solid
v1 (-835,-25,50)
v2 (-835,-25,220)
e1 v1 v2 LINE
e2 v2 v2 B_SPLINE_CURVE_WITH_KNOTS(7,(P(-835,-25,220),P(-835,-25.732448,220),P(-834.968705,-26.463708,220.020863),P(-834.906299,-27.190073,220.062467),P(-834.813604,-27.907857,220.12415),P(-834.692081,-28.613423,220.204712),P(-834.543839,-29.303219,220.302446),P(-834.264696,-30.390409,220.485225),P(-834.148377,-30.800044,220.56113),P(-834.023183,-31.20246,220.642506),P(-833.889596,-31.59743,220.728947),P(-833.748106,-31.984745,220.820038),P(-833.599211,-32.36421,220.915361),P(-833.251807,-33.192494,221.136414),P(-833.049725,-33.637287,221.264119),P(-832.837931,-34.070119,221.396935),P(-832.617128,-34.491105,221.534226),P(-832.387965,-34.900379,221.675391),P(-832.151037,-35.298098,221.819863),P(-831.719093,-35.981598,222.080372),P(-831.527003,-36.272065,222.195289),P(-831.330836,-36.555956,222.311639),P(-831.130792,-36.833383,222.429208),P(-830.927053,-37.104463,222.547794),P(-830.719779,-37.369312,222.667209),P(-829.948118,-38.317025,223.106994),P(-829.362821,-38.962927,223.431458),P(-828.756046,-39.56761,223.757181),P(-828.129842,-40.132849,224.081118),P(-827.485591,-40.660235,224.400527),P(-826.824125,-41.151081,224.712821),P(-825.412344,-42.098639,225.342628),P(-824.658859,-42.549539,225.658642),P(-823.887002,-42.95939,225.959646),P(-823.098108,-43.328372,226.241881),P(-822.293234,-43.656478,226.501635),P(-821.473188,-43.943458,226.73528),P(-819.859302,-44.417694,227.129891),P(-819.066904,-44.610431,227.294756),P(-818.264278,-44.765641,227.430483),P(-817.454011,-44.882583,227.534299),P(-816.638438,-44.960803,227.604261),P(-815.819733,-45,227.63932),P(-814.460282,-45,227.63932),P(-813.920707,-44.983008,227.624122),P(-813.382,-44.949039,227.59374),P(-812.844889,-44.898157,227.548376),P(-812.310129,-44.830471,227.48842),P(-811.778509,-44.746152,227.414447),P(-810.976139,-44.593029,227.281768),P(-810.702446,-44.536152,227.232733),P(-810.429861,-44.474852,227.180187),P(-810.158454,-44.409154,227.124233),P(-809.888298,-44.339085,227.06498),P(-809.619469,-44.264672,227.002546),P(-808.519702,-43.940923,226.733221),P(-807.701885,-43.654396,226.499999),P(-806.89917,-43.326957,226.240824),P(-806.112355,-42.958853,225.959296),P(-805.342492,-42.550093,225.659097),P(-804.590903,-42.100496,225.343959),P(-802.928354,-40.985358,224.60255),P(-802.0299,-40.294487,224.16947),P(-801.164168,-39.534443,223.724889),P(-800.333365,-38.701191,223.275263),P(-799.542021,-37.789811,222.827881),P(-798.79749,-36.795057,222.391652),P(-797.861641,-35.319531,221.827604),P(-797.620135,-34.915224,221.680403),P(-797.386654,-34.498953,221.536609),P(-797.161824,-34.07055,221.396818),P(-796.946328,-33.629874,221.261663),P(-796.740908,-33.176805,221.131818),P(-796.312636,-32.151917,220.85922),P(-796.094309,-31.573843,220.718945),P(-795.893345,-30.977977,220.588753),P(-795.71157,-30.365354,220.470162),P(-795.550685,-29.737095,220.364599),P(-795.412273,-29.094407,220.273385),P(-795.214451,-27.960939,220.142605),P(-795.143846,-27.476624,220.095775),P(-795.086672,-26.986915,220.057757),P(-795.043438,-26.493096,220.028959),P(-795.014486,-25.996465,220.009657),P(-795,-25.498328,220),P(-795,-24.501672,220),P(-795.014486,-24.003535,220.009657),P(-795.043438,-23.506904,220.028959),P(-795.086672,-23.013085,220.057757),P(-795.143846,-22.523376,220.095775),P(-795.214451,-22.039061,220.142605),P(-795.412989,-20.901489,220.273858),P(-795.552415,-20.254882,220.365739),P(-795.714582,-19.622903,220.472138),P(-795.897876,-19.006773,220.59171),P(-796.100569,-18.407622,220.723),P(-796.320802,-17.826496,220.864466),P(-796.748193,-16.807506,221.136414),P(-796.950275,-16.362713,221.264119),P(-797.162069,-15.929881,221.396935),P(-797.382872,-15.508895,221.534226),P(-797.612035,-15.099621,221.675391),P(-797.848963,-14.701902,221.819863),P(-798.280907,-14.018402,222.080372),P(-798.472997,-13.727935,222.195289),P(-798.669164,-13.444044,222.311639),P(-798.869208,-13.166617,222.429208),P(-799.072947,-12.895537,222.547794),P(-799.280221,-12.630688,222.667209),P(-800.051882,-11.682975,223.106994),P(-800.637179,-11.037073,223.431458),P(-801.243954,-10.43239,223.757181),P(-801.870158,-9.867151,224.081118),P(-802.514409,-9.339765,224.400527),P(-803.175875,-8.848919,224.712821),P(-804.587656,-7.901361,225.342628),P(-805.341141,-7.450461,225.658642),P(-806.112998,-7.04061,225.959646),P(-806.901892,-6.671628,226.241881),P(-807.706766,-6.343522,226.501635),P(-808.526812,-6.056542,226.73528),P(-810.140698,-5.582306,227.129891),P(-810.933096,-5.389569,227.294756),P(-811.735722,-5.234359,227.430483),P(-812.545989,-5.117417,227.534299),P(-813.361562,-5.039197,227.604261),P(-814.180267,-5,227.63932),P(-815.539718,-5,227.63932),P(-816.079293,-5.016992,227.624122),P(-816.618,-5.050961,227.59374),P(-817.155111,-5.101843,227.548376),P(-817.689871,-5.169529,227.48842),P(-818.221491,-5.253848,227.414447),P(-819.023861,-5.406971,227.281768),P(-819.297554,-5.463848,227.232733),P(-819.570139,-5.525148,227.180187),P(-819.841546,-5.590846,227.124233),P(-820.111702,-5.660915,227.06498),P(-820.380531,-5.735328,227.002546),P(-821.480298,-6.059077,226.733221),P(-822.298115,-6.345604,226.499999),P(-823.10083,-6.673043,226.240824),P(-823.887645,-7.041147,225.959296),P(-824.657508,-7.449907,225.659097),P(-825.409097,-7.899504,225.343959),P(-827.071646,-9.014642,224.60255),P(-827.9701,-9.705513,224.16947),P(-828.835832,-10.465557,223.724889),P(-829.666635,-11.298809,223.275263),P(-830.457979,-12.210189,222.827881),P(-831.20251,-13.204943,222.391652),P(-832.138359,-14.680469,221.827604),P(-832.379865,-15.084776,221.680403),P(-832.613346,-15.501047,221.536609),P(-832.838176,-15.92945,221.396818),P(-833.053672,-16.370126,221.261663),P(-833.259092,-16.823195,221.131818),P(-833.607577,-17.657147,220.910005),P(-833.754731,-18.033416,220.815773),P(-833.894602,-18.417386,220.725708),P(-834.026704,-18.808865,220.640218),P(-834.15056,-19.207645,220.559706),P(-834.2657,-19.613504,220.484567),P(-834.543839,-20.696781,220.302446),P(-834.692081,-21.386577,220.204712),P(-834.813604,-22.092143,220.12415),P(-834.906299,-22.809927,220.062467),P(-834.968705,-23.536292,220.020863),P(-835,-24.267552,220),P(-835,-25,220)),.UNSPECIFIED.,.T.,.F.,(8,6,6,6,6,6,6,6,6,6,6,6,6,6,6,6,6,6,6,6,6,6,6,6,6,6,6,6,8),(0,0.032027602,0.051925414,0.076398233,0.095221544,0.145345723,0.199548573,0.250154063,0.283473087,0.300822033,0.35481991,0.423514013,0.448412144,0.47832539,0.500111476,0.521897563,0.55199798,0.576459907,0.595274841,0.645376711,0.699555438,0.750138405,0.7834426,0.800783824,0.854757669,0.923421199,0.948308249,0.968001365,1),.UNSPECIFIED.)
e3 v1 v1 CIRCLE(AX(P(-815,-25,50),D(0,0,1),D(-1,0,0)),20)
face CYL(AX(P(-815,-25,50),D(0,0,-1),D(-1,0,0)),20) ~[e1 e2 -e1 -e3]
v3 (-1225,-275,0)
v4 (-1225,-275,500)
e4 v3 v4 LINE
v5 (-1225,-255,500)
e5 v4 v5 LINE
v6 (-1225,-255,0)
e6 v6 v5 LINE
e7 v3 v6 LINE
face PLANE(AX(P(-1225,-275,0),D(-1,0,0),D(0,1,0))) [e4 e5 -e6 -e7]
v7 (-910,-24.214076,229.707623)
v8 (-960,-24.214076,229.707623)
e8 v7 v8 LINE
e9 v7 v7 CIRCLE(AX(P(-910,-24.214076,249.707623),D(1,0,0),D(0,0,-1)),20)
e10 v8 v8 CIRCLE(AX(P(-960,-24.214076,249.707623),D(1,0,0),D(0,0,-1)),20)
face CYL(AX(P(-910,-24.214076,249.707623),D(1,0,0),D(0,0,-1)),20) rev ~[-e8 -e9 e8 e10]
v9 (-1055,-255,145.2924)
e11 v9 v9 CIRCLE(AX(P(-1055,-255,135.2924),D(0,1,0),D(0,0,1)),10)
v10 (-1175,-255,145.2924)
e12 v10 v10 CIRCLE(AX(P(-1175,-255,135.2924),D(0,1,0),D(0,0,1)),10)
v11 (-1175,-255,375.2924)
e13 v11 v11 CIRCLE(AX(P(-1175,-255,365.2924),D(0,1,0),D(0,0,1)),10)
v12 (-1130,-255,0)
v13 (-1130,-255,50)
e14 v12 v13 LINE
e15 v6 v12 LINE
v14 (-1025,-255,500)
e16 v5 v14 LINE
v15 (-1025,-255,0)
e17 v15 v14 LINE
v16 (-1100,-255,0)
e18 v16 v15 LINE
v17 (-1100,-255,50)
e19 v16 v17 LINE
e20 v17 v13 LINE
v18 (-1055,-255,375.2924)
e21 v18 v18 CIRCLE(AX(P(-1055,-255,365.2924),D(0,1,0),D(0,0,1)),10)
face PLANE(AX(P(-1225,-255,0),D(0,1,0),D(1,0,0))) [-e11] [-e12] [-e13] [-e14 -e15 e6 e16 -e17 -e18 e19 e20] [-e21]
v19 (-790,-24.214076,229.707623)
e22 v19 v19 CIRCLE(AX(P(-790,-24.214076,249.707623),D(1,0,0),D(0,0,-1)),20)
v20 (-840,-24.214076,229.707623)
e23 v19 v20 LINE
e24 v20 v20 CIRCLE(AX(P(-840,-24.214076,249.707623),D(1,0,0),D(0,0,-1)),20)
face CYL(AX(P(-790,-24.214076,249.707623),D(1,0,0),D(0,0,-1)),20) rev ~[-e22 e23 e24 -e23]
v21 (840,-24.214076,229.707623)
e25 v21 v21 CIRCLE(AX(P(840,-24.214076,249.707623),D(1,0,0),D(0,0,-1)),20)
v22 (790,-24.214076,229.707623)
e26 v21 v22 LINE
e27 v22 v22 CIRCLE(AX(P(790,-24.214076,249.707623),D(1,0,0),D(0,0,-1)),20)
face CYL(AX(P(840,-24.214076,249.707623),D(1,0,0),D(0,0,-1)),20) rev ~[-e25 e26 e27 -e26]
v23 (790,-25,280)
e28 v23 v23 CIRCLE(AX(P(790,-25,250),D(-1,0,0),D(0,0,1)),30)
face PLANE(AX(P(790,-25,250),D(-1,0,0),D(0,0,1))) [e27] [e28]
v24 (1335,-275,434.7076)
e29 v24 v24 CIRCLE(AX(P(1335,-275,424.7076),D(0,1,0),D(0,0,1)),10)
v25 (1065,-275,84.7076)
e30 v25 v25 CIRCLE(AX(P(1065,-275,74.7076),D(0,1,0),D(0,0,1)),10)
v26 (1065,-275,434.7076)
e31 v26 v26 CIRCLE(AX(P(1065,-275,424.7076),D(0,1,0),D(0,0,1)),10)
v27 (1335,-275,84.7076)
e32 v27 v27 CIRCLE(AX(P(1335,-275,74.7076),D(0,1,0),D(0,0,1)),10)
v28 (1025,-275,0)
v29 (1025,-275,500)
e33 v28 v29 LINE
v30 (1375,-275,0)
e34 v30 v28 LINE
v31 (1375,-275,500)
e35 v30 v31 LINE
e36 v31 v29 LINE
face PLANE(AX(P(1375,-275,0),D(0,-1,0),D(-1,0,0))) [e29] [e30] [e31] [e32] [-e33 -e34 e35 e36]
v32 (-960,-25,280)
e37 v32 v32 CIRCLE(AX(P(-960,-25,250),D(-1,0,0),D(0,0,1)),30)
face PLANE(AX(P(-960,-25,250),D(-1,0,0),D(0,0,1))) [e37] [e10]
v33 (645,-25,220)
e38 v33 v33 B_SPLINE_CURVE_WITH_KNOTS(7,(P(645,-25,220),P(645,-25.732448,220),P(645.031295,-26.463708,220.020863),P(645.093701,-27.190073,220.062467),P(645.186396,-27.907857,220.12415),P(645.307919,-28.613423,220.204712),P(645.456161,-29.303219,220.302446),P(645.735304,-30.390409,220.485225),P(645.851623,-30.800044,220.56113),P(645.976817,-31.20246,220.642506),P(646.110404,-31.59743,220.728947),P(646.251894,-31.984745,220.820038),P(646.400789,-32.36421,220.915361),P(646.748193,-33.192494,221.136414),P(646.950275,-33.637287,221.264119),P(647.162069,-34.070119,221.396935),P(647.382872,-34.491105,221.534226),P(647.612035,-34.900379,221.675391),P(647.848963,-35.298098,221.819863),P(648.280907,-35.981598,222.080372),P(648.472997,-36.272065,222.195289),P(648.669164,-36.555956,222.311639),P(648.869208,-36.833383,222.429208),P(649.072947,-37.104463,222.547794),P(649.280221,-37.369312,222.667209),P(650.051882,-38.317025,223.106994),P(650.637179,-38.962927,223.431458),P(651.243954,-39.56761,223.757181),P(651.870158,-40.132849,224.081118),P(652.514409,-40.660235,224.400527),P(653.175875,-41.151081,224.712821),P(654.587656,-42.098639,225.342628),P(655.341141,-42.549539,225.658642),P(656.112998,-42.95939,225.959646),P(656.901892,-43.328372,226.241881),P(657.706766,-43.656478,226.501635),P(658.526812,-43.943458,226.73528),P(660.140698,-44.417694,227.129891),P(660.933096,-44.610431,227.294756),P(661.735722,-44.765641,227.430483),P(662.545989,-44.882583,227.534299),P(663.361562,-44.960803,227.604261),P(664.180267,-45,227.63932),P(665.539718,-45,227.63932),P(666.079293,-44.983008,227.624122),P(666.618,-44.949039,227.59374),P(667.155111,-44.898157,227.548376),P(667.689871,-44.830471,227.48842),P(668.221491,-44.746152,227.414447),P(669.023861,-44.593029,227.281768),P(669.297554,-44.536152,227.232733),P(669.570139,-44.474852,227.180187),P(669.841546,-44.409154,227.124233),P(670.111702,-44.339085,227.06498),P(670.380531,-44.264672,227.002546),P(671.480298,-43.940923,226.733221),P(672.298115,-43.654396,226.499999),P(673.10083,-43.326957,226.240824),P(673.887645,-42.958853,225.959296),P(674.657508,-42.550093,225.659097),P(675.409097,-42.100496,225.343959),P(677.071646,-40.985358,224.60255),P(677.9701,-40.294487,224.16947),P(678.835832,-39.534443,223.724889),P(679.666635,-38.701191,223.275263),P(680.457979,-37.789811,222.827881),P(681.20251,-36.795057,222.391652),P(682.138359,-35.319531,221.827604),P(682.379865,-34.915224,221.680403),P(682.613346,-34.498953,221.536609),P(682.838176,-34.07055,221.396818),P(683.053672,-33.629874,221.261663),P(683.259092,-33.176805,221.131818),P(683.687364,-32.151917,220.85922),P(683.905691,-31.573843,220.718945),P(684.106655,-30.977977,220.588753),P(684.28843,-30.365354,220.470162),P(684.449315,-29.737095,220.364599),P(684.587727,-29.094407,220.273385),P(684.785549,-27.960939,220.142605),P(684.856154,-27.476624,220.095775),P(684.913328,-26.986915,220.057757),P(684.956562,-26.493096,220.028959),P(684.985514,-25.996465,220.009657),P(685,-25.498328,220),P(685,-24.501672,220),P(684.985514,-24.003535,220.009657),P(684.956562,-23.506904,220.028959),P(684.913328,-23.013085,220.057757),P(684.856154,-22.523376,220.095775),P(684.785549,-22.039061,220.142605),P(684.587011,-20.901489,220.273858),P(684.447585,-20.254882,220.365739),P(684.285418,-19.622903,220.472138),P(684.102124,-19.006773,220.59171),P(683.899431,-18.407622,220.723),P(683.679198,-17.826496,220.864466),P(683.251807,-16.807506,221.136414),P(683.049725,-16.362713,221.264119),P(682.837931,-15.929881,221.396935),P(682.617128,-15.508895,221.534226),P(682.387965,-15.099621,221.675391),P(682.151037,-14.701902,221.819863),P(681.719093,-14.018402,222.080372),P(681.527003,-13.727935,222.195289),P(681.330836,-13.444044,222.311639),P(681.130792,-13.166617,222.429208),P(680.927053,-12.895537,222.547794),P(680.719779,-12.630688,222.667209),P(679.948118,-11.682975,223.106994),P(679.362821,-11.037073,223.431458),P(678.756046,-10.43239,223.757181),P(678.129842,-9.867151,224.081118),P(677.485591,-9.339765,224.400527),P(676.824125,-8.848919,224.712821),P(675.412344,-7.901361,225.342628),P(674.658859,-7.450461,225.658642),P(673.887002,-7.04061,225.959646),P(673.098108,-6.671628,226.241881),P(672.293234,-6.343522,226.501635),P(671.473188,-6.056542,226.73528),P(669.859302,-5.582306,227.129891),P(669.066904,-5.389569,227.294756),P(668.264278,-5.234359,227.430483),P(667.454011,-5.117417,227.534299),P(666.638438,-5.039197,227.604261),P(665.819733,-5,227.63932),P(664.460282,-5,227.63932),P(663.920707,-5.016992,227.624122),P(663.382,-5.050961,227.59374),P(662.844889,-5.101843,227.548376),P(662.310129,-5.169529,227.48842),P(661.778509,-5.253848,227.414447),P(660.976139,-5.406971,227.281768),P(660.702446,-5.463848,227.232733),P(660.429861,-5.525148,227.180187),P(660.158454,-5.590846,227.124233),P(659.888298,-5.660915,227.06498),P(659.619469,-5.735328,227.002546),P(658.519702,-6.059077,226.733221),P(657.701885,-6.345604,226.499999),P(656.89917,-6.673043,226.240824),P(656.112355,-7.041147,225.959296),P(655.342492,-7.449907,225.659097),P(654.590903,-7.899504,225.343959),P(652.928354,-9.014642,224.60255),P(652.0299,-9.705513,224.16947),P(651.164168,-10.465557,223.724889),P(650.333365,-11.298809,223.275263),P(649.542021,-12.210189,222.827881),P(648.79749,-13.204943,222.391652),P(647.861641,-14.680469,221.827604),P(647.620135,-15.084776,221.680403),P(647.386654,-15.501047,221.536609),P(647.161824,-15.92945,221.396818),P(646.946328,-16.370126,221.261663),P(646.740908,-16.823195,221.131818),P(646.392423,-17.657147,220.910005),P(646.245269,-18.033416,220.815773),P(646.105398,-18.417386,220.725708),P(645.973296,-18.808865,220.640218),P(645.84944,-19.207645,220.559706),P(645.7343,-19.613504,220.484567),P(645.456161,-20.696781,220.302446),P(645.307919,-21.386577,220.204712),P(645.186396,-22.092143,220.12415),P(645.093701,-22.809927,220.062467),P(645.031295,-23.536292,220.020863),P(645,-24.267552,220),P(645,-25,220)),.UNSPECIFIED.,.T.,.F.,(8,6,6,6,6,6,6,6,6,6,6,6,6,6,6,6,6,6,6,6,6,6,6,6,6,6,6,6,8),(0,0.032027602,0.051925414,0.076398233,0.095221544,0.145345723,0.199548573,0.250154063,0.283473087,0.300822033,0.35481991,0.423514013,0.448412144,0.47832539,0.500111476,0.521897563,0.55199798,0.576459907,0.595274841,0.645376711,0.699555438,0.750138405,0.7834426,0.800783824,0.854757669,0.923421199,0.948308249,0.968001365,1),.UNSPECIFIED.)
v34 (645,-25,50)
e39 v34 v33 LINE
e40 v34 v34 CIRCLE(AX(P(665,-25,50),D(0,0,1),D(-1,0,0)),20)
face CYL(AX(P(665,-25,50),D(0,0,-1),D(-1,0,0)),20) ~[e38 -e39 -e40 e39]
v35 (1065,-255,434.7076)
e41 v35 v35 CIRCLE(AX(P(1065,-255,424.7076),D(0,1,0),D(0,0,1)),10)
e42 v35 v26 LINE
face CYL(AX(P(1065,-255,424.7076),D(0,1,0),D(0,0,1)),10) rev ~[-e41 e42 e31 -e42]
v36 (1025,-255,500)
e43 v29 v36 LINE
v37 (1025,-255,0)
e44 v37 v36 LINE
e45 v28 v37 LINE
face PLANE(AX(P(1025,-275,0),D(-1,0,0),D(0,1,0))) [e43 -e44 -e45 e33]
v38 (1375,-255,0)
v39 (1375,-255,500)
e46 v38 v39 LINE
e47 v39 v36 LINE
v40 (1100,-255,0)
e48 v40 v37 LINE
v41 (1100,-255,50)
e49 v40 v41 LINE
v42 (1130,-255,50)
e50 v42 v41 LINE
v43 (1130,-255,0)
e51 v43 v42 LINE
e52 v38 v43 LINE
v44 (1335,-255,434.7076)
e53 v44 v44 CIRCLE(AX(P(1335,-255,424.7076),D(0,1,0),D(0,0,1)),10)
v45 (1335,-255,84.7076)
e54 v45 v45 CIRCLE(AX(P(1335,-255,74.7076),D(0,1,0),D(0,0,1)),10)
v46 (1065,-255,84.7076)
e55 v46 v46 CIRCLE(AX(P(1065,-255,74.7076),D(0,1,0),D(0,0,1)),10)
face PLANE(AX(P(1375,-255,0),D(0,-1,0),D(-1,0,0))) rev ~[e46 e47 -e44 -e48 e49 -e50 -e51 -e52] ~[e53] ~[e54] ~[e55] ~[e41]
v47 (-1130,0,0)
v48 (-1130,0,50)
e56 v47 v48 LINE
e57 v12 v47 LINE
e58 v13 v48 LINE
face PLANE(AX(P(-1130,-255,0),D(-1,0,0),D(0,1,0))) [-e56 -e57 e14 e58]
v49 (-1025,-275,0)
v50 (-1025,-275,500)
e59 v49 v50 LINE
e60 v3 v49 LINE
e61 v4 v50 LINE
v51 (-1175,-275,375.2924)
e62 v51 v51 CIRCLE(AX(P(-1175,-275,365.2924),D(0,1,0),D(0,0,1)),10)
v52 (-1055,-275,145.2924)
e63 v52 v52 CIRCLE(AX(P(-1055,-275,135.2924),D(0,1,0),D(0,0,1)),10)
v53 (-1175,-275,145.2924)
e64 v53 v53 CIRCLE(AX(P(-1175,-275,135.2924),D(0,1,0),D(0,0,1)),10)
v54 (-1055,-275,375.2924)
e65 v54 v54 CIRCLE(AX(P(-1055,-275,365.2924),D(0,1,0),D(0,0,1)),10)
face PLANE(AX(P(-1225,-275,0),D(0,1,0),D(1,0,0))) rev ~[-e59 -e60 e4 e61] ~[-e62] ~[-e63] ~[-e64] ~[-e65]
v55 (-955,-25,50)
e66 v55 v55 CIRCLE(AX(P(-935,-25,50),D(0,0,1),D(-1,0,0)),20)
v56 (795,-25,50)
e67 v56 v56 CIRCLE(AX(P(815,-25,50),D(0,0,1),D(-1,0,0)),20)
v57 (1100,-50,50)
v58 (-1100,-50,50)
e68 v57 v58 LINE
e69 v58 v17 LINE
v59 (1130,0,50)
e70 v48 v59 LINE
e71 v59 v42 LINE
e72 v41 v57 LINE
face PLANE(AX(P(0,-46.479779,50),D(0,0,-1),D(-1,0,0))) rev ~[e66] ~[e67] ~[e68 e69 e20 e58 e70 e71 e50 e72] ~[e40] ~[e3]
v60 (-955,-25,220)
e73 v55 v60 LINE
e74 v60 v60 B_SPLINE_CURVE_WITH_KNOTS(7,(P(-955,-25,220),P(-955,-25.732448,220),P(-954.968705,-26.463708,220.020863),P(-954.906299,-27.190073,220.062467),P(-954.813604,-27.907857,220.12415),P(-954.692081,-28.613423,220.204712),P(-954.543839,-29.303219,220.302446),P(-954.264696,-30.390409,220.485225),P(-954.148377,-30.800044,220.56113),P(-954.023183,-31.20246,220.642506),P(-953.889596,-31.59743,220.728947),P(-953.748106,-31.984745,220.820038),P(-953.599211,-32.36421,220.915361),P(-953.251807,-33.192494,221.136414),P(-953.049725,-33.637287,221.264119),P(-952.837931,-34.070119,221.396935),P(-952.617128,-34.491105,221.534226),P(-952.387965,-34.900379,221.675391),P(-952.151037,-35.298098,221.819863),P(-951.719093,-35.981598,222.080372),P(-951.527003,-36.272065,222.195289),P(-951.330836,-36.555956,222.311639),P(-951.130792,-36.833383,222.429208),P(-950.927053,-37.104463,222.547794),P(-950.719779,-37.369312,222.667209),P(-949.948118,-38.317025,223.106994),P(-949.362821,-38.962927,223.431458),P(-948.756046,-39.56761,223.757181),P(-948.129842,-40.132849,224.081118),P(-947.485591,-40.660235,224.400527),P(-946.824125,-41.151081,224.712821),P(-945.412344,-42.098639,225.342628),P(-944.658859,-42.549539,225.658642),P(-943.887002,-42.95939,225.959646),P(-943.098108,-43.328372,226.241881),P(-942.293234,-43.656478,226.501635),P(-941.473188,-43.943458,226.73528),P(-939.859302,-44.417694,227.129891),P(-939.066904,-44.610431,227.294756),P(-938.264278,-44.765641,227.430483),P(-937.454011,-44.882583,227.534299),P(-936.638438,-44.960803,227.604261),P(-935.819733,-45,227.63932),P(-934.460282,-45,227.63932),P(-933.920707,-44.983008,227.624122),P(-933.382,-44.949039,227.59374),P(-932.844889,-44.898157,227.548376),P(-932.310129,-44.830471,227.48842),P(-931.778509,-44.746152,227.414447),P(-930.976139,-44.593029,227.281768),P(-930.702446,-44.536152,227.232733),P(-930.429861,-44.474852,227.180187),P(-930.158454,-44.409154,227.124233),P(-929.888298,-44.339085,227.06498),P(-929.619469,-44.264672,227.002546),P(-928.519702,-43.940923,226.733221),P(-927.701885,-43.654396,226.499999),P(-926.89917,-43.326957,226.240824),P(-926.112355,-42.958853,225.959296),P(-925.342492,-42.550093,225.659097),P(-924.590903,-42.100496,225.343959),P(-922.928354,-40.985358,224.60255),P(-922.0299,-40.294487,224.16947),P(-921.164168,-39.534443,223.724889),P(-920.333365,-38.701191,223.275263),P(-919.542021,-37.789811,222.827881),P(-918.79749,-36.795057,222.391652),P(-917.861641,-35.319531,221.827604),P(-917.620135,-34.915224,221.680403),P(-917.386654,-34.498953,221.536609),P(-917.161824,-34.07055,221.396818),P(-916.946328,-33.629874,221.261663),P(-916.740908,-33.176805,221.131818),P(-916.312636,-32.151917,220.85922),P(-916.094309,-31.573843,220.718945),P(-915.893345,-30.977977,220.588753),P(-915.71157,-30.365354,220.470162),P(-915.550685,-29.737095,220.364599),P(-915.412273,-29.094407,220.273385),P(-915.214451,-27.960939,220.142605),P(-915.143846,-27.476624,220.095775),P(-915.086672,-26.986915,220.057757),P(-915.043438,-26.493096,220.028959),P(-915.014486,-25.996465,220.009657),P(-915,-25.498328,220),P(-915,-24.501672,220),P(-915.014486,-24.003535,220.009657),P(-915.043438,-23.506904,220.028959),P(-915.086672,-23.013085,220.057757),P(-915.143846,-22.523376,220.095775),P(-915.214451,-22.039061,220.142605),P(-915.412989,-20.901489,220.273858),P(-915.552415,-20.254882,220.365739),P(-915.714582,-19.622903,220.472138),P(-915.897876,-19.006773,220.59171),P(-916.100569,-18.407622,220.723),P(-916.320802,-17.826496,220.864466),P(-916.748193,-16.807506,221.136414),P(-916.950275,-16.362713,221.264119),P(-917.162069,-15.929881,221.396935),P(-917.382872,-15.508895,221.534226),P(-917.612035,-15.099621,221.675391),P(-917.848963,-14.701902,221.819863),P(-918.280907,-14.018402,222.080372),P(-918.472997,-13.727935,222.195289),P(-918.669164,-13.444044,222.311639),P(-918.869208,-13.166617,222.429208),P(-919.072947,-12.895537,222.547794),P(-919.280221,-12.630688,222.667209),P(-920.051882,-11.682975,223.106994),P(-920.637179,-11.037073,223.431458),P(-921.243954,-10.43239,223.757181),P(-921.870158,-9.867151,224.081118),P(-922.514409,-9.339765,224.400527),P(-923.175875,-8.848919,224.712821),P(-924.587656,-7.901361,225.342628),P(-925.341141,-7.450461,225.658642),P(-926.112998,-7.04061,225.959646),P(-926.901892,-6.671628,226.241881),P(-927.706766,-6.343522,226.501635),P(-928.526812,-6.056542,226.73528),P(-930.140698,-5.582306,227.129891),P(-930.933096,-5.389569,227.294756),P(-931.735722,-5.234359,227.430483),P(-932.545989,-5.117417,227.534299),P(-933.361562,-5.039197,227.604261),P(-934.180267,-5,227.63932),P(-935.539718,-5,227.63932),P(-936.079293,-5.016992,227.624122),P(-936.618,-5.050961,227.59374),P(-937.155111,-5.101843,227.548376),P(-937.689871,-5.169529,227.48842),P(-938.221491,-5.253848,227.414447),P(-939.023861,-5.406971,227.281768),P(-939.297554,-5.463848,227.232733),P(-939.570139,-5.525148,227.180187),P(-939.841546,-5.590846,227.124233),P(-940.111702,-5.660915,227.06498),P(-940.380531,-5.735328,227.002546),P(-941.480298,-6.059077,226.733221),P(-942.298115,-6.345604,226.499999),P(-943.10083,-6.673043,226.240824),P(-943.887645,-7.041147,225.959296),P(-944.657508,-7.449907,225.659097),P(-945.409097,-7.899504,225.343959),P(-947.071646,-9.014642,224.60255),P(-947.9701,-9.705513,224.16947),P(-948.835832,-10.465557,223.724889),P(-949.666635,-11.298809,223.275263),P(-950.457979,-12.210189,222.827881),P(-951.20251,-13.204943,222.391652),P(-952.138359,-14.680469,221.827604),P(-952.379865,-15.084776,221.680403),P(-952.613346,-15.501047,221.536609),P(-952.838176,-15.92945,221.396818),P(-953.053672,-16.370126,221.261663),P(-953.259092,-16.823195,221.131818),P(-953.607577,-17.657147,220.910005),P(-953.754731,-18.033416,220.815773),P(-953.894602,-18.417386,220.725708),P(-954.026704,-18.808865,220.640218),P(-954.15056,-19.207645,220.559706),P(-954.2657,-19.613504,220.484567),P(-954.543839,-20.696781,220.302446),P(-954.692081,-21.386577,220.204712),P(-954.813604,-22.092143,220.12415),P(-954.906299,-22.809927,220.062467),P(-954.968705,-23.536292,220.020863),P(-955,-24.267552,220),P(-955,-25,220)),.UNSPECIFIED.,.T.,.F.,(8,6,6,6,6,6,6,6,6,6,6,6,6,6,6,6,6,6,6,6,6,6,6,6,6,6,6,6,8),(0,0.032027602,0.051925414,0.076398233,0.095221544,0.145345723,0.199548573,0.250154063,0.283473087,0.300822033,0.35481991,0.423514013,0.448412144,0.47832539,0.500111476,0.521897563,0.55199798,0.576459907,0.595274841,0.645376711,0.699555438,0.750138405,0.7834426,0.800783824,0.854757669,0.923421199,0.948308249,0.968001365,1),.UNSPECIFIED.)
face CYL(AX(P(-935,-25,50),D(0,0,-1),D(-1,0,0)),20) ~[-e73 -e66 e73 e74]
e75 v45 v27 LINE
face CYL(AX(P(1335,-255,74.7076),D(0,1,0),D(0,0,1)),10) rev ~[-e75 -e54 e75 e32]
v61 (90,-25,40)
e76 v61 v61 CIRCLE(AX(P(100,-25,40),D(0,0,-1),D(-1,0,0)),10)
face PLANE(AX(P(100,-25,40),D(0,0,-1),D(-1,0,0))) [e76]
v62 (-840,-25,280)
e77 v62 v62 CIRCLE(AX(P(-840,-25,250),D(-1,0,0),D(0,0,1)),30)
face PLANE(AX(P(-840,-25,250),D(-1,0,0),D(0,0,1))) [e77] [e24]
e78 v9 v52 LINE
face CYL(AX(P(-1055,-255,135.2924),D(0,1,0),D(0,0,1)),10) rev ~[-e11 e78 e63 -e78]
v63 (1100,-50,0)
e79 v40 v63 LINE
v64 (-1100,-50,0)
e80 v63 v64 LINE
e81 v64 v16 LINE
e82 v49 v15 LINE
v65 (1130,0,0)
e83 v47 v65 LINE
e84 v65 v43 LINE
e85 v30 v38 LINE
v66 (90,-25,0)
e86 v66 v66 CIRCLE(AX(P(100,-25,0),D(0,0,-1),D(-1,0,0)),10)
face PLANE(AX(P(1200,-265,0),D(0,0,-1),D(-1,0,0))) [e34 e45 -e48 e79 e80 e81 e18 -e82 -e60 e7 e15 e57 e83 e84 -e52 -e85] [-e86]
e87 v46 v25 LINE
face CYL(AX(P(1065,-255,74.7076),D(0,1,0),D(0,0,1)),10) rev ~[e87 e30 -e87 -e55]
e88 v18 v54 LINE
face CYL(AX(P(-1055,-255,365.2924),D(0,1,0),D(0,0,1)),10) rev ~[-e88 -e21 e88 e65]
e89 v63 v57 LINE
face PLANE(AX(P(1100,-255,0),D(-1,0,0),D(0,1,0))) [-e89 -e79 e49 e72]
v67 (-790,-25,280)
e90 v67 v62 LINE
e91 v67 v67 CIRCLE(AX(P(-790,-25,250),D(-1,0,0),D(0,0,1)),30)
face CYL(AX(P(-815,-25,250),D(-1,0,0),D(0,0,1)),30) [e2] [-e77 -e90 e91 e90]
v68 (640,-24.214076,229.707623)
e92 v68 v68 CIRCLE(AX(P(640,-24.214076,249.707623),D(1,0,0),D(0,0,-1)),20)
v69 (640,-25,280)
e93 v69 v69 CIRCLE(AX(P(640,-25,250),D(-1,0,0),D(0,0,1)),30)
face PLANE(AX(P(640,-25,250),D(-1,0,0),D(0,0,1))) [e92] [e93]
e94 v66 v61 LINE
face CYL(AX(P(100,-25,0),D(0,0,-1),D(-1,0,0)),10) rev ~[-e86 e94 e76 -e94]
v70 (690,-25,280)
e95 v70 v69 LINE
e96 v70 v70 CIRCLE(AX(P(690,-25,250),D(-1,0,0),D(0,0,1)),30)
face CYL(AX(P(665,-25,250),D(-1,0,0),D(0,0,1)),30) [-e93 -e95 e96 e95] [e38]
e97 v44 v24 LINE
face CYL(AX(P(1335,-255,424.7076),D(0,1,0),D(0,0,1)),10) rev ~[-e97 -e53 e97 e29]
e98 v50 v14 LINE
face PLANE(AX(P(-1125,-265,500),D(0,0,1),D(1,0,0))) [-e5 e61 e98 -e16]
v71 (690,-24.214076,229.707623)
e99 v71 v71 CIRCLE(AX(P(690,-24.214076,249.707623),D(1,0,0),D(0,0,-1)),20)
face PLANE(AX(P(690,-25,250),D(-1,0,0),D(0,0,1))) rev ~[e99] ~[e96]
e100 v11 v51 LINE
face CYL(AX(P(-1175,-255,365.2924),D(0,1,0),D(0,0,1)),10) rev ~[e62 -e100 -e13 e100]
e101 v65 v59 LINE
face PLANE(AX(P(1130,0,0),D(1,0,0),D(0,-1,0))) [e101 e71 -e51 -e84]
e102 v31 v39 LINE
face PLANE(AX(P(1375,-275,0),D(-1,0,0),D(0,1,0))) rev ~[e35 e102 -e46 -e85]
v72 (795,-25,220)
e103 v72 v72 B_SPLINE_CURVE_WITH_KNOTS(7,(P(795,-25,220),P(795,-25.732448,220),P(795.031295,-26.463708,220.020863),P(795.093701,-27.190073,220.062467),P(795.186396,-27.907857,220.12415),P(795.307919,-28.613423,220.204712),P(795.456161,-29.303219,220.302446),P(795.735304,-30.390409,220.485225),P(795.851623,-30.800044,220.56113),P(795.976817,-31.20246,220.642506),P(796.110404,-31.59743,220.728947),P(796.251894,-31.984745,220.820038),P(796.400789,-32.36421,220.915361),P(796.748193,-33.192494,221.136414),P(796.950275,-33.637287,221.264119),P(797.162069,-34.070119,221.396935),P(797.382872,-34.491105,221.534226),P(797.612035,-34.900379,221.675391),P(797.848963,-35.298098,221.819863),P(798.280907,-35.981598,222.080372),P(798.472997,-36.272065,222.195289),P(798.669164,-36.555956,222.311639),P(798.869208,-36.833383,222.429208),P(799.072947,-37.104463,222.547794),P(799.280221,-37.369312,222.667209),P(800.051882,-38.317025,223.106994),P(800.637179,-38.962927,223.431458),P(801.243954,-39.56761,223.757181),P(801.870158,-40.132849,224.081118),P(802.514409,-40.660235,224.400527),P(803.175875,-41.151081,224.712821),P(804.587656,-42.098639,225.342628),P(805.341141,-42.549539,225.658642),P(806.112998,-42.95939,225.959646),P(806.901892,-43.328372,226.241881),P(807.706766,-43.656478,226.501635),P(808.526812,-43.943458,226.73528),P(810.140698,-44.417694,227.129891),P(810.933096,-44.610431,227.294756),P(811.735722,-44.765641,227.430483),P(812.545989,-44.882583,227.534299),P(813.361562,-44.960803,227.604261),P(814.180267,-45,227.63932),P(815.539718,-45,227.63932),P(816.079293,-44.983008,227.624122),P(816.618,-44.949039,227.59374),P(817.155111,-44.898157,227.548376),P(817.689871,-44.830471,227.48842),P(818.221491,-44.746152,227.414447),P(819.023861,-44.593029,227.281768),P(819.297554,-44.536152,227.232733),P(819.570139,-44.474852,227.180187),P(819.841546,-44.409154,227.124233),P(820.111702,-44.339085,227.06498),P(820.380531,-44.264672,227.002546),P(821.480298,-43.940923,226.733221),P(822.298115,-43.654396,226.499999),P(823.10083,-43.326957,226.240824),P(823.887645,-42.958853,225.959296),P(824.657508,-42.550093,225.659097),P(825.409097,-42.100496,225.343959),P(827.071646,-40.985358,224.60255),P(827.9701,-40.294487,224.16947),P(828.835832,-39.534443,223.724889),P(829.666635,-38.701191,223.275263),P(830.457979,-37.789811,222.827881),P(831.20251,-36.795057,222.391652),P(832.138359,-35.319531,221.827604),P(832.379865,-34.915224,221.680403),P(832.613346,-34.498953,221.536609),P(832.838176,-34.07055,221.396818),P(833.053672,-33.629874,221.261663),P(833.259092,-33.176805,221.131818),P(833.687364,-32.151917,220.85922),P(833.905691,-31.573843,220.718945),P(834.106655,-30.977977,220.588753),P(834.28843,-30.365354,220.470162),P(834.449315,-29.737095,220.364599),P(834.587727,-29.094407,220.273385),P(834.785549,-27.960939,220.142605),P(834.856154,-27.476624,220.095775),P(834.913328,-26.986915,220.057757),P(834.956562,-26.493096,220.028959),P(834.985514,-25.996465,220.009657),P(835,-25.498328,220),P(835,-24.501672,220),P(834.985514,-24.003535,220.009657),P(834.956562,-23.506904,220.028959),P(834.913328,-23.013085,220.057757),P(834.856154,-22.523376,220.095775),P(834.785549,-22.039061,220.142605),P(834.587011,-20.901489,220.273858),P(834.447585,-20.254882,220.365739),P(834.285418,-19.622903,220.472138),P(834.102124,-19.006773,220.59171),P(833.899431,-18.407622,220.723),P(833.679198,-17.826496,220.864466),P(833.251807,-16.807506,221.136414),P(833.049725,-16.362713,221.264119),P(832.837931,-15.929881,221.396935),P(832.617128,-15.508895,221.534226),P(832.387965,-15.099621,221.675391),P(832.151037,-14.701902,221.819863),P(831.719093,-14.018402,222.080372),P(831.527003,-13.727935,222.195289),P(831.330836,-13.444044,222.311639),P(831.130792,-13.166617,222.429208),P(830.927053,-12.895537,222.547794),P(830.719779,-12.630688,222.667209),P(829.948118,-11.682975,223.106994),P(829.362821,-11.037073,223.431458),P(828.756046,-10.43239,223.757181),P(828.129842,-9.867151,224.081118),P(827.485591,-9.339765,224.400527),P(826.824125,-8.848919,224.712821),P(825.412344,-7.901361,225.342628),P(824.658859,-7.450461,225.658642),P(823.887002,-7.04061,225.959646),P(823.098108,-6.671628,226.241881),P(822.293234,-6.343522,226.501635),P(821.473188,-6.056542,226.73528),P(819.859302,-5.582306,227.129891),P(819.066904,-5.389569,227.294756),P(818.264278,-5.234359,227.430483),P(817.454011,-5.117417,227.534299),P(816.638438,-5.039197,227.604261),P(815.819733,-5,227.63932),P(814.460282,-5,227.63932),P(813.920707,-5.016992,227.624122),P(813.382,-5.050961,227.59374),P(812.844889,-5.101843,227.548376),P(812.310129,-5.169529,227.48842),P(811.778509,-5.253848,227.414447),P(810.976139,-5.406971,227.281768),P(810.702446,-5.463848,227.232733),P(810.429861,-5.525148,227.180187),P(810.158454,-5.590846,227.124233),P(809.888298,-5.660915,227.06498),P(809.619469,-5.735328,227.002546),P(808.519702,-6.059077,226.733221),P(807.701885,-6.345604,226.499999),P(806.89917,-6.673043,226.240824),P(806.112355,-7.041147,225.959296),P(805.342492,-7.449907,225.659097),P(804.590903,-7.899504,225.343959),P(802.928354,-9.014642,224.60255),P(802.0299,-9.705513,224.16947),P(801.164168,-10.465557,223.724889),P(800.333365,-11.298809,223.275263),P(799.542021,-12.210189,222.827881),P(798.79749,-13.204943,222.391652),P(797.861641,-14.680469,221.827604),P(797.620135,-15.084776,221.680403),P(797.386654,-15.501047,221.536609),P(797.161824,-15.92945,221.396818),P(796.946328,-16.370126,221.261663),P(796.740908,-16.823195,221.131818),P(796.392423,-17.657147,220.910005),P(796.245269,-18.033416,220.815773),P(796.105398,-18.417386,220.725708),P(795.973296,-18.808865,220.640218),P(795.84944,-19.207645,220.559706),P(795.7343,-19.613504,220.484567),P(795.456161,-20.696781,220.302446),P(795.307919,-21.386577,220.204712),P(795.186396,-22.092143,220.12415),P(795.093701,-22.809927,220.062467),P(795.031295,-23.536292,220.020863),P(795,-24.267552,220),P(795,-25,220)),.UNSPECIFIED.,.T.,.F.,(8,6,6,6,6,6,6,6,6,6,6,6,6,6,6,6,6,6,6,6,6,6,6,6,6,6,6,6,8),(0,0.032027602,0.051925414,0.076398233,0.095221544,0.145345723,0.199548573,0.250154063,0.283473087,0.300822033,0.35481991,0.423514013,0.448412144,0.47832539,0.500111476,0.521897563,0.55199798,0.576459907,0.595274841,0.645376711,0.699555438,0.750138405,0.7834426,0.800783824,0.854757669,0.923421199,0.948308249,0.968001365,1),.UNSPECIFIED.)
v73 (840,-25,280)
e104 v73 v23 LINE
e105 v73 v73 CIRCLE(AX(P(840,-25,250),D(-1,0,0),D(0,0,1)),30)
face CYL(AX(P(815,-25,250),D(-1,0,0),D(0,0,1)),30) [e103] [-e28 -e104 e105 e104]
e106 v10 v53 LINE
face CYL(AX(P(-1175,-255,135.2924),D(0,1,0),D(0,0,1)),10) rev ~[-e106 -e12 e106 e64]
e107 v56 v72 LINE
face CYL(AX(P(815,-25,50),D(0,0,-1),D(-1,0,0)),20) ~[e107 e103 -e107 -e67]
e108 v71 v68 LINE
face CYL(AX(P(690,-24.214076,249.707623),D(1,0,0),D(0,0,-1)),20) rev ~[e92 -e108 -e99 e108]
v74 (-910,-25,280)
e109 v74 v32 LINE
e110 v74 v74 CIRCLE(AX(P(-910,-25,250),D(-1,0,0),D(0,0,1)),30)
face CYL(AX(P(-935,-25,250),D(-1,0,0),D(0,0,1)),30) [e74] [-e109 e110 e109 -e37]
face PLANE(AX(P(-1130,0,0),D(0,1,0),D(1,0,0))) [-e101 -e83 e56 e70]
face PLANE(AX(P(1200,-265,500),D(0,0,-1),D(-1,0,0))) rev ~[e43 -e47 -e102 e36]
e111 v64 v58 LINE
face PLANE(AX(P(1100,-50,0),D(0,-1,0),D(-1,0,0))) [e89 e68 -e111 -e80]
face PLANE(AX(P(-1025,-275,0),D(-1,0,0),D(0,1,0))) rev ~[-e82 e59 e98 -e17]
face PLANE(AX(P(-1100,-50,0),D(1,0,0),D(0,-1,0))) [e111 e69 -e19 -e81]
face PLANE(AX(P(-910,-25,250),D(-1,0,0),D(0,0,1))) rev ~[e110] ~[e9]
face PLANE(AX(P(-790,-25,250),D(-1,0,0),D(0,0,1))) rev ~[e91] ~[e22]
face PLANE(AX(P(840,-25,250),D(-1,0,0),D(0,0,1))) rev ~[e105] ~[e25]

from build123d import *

# Parameters (mm, degrees)
BOSS_EXTRUDE1_DEPTH = 50
SKETCH2_W           = 200
SKETCH2_H           = 20
BOSS_EXTRUDE2_DEPTH = 500
SKETCH4_R           = 20
BOSS_EXTRUDE3_DEPTH = 200
SKETCH6_R           = 30
SKETCH6_R_2         = 12
BOSS_EXTRUDE4_DEPTH = 25
SKETCH8_W           = 350
SKETCH8_H           = 20
BOSS_EXTRUDE5_DEPTH = 500
SKETCH9_R           = 20
CUT_EXTRUDE1_DEPTH  = 2356.175152722
LPATTERN2_COUNT     = 2
LPATTERN2_PITCH     = 1750
LPATTERN4_COUNT     = 2
LPATTERN4_PITCH     = 120
LPATTERN5_COUNT     = 2
LPATTERN5_PITCH     = 1600
CUT_EXTRUDE2_REACH  = 1488.01
SKETCH10_R          = 10
SKETCH11_R          = 10
CUT_EXTRUDE3_DEPTH  = 40


with BuildPart() as part:
    # Sketch1 → Boss-Extrude1 (new body)
    with BuildSketch(Plane.XY):
        Polygon((-1130, 0), (1130, 0), (1130, -255), (1100, -255), (1100, -50), (-1100, -50), (-1100, -255), (-1130, -255), align=None)
    extrude(amount=BOSS_EXTRUDE1_DEPTH)

    # Sketch2 → Boss-Extrude2 (add)
    with BuildSketch(Plane.XY):
        with Locations((-1125, -265)):
            Rectangle(SKETCH2_W, SKETCH2_H)
    extrude(amount=BOSS_EXTRUDE2_DEPTH)

    # Sketch4 → Boss-Extrude3 (add)
    with BuildSketch(Plane.XY.offset(50)):
        with Locations(Location((-935, -25, 0), (0, 0, 180))):
            Circle(SKETCH4_R)
    boss_extrude3 = extrude(amount=BOSS_EXTRUDE3_DEPTH)

    # Sketch6 → Boss-Extrude4 (add, symmetric)
    with BuildSketch(Plane(origin=(-935, 0, 0), x_dir=(0, -1, 0), z_dir=(-1, 0, 0))):
        with Locations(Location((25, 250, 0), (0, 0, 90))):
            Circle(SKETCH6_R)
        with Locations(Location((25, 250, 0), (0, 0, 90))):
            Circle(SKETCH6_R_2, mode=Mode.SUBTRACT)
    boss_extrude4 = extrude(amount=BOSS_EXTRUDE4_DEPTH, both=True)

    # Sketch8 → Boss-Extrude5 (add)
    with BuildSketch(Plane(origin=(0, 0, 0), x_dir=(-1, 0, 0), z_dir=(0, 0, -1))):
        with Locations((-1200, -265)):
            Rectangle(SKETCH8_W, SKETCH8_H)
    extrude(amount=-BOSS_EXTRUDE5_DEPTH)

    # Sketch9 → Cut-Extrude1 (cut, through all)
    with BuildSketch(Plane(origin=(-910, 0, 0), x_dir=(0, 0, -1), z_dir=(1, 0, 0))):
        with Locations((-249.707622987, -24.214075722)):
            Circle(SKETCH9_R)
    cut_extrude1 = extrude(amount=-CUT_EXTRUDE1_DEPTH, mode=Mode.SUBTRACT)

    # LPattern2: Boss-Extrude3, Boss-Extrude4, Cut-Extrude1 ×2
    with Locations(*[(i * LPATTERN2_PITCH, 0, 0) for i in range(1, LPATTERN2_COUNT)]):
        add(boss_extrude3)
        add(boss_extrude4)
        add(cut_extrude1, mode=Mode.SUBTRACT)

    # LPattern4: Boss-Extrude3, Boss-Extrude4, Cut-Extrude1 ×2
    with Locations(*[(i * LPATTERN4_PITCH, 0, 0) for i in range(1, LPATTERN4_COUNT)]):
        add(boss_extrude3)
        add(boss_extrude4)
        add(cut_extrude1, mode=Mode.SUBTRACT)

    # LPattern5: Boss-Extrude3, Boss-Extrude4, Cut-Extrude1 ×2
    with Locations(*[(i * LPATTERN5_PITCH, 0, 0) for i in range(1, LPATTERN5_COUNT)]):
        add(boss_extrude3)
        add(boss_extrude4)
        add(cut_extrude1, mode=Mode.SUBTRACT)

    # Sketch10 → Cut-Extrude2 (cut, up to next)
    with BuildSketch(Plane(origin=(0, -255, 0), x_dir=(1, 0, 0), z_dir=(0, 1, 0)), mode=Mode.PRIVATE) as cut_extrude2_sk1:
        with Locations(Location((1065, -424.7076, 0), (0, 0, 270))):
            Circle(SKETCH10_R)
    cut_extrude2_tool1 = extrude(cut_extrude2_sk1.sketch, amount=-CUT_EXTRUDE2_REACH, mode=Mode.PRIVATE) & part.part
    # Sketch10 → Cut-Extrude2 (cut, up to next)
    with BuildSketch(Plane(origin=(0, -255, 0), x_dir=(1, 0, 0), z_dir=(0, 1, 0)), mode=Mode.PRIVATE) as cut_extrude2_sk2:
        with Locations(Location((1065, -74.7076, 0), (0, 0, 270))):
            Circle(SKETCH10_R)
    cut_extrude2_tool2 = extrude(cut_extrude2_sk2.sketch, amount=-CUT_EXTRUDE2_REACH, mode=Mode.PRIVATE) & part.part
    # Sketch10 → Cut-Extrude2 (cut, up to next)
    with BuildSketch(Plane(origin=(0, -255, 0), x_dir=(1, 0, 0), z_dir=(0, 1, 0)), mode=Mode.PRIVATE) as cut_extrude2_sk3:
        with Locations(Location((1335, -424.7076, 0), (0, 0, 270))):
            Circle(SKETCH10_R)
    cut_extrude2_tool3 = extrude(cut_extrude2_sk3.sketch, amount=-CUT_EXTRUDE2_REACH, mode=Mode.PRIVATE) & part.part
    # Sketch10 → Cut-Extrude2 (cut, up to next)
    with BuildSketch(Plane(origin=(0, -255, 0), x_dir=(1, 0, 0), z_dir=(0, 1, 0)), mode=Mode.PRIVATE) as cut_extrude2_sk4:
        with Locations(Location((1335, -74.7076, 0), (0, 0, 270))):
            Circle(SKETCH10_R)
    cut_extrude2_tool4 = extrude(cut_extrude2_sk4.sketch, amount=-CUT_EXTRUDE2_REACH, mode=Mode.PRIVATE) & part.part
    # Sketch10 → Cut-Extrude2 (cut, up to next)
    with BuildSketch(Plane(origin=(0, -255, 0), x_dir=(1, 0, 0), z_dir=(0, 1, 0)), mode=Mode.PRIVATE) as cut_extrude2_sk5:
        with Locations(Location((-1175, -365.2924, 0), (0, 0, 270))):
            Circle(SKETCH10_R)
    cut_extrude2_tool5 = extrude(cut_extrude2_sk5.sketch, amount=-CUT_EXTRUDE2_REACH, mode=Mode.PRIVATE) & part.part
    # Sketch10 → Cut-Extrude2 (cut, up to next)
    with BuildSketch(Plane(origin=(0, -255, 0), x_dir=(1, 0, 0), z_dir=(0, 1, 0)), mode=Mode.PRIVATE) as cut_extrude2_sk6:
        with Locations(Location((-1055, -365.2924, 0), (0, 0, 270))):
            Circle(SKETCH10_R)
    cut_extrude2_tool6 = extrude(cut_extrude2_sk6.sketch, amount=-CUT_EXTRUDE2_REACH, mode=Mode.PRIVATE) & part.part
    # Sketch10 → Cut-Extrude2 (cut, up to next)
    with BuildSketch(Plane(origin=(0, -255, 0), x_dir=(1, 0, 0), z_dir=(0, 1, 0)), mode=Mode.PRIVATE) as cut_extrude2_sk7:
        with Locations(Location((-1175, -135.2924, 0), (0, 0, 270))):
            Circle(SKETCH10_R)
    cut_extrude2_tool7 = extrude(cut_extrude2_sk7.sketch, amount=-CUT_EXTRUDE2_REACH, mode=Mode.PRIVATE) & part.part
    # Sketch10 → Cut-Extrude2 (cut, up to next)
    with BuildSketch(Plane(origin=(0, -255, 0), x_dir=(1, 0, 0), z_dir=(0, 1, 0)), mode=Mode.PRIVATE) as cut_extrude2_sk8:
        with Locations(Location((-1055, -135.2924, 0), (0, 0, 270))):
            Circle(SKETCH10_R)
    cut_extrude2_tool8 = extrude(cut_extrude2_sk8.sketch, amount=-CUT_EXTRUDE2_REACH, mode=Mode.PRIVATE) & part.part
    add(cut_extrude2_tool1.solids().sort_by_distance((1065, -255, 424.7076))[0], mode=Mode.SUBTRACT)
    add(cut_extrude2_tool2.solids().sort_by_distance((1065, -255, 74.7076))[0], mode=Mode.SUBTRACT)
    add(cut_extrude2_tool3.solids().sort_by_distance((1335, -255, 424.7076))[0], mode=Mode.SUBTRACT)
    add(cut_extrude2_tool4.solids().sort_by_distance((1335, -255, 74.7076))[0], mode=Mode.SUBTRACT)
    add(cut_extrude2_tool5.solids().sort_by_distance((-1175, -255, 365.2924))[0], mode=Mode.SUBTRACT)
    add(cut_extrude2_tool6.solids().sort_by_distance((-1055, -255, 365.2924))[0], mode=Mode.SUBTRACT)
    add(cut_extrude2_tool7.solids().sort_by_distance((-1175, -255, 135.2924))[0], mode=Mode.SUBTRACT)
    add(cut_extrude2_tool8.solids().sort_by_distance((-1055, -255, 135.2924))[0], mode=Mode.SUBTRACT)

    # Sketch11 → Cut-Extrude3 (cut)
    with BuildSketch(Plane(origin=(0, 0, 0), x_dir=(-1, 0, 0), z_dir=(0, 0, -1))):
        with Locations((-100, -25)):
            Circle(SKETCH11_R)
    extrude(amount=-CUT_EXTRUDE3_DEPTH, mode=Mode.SUBTRACT)


solid = part.part
